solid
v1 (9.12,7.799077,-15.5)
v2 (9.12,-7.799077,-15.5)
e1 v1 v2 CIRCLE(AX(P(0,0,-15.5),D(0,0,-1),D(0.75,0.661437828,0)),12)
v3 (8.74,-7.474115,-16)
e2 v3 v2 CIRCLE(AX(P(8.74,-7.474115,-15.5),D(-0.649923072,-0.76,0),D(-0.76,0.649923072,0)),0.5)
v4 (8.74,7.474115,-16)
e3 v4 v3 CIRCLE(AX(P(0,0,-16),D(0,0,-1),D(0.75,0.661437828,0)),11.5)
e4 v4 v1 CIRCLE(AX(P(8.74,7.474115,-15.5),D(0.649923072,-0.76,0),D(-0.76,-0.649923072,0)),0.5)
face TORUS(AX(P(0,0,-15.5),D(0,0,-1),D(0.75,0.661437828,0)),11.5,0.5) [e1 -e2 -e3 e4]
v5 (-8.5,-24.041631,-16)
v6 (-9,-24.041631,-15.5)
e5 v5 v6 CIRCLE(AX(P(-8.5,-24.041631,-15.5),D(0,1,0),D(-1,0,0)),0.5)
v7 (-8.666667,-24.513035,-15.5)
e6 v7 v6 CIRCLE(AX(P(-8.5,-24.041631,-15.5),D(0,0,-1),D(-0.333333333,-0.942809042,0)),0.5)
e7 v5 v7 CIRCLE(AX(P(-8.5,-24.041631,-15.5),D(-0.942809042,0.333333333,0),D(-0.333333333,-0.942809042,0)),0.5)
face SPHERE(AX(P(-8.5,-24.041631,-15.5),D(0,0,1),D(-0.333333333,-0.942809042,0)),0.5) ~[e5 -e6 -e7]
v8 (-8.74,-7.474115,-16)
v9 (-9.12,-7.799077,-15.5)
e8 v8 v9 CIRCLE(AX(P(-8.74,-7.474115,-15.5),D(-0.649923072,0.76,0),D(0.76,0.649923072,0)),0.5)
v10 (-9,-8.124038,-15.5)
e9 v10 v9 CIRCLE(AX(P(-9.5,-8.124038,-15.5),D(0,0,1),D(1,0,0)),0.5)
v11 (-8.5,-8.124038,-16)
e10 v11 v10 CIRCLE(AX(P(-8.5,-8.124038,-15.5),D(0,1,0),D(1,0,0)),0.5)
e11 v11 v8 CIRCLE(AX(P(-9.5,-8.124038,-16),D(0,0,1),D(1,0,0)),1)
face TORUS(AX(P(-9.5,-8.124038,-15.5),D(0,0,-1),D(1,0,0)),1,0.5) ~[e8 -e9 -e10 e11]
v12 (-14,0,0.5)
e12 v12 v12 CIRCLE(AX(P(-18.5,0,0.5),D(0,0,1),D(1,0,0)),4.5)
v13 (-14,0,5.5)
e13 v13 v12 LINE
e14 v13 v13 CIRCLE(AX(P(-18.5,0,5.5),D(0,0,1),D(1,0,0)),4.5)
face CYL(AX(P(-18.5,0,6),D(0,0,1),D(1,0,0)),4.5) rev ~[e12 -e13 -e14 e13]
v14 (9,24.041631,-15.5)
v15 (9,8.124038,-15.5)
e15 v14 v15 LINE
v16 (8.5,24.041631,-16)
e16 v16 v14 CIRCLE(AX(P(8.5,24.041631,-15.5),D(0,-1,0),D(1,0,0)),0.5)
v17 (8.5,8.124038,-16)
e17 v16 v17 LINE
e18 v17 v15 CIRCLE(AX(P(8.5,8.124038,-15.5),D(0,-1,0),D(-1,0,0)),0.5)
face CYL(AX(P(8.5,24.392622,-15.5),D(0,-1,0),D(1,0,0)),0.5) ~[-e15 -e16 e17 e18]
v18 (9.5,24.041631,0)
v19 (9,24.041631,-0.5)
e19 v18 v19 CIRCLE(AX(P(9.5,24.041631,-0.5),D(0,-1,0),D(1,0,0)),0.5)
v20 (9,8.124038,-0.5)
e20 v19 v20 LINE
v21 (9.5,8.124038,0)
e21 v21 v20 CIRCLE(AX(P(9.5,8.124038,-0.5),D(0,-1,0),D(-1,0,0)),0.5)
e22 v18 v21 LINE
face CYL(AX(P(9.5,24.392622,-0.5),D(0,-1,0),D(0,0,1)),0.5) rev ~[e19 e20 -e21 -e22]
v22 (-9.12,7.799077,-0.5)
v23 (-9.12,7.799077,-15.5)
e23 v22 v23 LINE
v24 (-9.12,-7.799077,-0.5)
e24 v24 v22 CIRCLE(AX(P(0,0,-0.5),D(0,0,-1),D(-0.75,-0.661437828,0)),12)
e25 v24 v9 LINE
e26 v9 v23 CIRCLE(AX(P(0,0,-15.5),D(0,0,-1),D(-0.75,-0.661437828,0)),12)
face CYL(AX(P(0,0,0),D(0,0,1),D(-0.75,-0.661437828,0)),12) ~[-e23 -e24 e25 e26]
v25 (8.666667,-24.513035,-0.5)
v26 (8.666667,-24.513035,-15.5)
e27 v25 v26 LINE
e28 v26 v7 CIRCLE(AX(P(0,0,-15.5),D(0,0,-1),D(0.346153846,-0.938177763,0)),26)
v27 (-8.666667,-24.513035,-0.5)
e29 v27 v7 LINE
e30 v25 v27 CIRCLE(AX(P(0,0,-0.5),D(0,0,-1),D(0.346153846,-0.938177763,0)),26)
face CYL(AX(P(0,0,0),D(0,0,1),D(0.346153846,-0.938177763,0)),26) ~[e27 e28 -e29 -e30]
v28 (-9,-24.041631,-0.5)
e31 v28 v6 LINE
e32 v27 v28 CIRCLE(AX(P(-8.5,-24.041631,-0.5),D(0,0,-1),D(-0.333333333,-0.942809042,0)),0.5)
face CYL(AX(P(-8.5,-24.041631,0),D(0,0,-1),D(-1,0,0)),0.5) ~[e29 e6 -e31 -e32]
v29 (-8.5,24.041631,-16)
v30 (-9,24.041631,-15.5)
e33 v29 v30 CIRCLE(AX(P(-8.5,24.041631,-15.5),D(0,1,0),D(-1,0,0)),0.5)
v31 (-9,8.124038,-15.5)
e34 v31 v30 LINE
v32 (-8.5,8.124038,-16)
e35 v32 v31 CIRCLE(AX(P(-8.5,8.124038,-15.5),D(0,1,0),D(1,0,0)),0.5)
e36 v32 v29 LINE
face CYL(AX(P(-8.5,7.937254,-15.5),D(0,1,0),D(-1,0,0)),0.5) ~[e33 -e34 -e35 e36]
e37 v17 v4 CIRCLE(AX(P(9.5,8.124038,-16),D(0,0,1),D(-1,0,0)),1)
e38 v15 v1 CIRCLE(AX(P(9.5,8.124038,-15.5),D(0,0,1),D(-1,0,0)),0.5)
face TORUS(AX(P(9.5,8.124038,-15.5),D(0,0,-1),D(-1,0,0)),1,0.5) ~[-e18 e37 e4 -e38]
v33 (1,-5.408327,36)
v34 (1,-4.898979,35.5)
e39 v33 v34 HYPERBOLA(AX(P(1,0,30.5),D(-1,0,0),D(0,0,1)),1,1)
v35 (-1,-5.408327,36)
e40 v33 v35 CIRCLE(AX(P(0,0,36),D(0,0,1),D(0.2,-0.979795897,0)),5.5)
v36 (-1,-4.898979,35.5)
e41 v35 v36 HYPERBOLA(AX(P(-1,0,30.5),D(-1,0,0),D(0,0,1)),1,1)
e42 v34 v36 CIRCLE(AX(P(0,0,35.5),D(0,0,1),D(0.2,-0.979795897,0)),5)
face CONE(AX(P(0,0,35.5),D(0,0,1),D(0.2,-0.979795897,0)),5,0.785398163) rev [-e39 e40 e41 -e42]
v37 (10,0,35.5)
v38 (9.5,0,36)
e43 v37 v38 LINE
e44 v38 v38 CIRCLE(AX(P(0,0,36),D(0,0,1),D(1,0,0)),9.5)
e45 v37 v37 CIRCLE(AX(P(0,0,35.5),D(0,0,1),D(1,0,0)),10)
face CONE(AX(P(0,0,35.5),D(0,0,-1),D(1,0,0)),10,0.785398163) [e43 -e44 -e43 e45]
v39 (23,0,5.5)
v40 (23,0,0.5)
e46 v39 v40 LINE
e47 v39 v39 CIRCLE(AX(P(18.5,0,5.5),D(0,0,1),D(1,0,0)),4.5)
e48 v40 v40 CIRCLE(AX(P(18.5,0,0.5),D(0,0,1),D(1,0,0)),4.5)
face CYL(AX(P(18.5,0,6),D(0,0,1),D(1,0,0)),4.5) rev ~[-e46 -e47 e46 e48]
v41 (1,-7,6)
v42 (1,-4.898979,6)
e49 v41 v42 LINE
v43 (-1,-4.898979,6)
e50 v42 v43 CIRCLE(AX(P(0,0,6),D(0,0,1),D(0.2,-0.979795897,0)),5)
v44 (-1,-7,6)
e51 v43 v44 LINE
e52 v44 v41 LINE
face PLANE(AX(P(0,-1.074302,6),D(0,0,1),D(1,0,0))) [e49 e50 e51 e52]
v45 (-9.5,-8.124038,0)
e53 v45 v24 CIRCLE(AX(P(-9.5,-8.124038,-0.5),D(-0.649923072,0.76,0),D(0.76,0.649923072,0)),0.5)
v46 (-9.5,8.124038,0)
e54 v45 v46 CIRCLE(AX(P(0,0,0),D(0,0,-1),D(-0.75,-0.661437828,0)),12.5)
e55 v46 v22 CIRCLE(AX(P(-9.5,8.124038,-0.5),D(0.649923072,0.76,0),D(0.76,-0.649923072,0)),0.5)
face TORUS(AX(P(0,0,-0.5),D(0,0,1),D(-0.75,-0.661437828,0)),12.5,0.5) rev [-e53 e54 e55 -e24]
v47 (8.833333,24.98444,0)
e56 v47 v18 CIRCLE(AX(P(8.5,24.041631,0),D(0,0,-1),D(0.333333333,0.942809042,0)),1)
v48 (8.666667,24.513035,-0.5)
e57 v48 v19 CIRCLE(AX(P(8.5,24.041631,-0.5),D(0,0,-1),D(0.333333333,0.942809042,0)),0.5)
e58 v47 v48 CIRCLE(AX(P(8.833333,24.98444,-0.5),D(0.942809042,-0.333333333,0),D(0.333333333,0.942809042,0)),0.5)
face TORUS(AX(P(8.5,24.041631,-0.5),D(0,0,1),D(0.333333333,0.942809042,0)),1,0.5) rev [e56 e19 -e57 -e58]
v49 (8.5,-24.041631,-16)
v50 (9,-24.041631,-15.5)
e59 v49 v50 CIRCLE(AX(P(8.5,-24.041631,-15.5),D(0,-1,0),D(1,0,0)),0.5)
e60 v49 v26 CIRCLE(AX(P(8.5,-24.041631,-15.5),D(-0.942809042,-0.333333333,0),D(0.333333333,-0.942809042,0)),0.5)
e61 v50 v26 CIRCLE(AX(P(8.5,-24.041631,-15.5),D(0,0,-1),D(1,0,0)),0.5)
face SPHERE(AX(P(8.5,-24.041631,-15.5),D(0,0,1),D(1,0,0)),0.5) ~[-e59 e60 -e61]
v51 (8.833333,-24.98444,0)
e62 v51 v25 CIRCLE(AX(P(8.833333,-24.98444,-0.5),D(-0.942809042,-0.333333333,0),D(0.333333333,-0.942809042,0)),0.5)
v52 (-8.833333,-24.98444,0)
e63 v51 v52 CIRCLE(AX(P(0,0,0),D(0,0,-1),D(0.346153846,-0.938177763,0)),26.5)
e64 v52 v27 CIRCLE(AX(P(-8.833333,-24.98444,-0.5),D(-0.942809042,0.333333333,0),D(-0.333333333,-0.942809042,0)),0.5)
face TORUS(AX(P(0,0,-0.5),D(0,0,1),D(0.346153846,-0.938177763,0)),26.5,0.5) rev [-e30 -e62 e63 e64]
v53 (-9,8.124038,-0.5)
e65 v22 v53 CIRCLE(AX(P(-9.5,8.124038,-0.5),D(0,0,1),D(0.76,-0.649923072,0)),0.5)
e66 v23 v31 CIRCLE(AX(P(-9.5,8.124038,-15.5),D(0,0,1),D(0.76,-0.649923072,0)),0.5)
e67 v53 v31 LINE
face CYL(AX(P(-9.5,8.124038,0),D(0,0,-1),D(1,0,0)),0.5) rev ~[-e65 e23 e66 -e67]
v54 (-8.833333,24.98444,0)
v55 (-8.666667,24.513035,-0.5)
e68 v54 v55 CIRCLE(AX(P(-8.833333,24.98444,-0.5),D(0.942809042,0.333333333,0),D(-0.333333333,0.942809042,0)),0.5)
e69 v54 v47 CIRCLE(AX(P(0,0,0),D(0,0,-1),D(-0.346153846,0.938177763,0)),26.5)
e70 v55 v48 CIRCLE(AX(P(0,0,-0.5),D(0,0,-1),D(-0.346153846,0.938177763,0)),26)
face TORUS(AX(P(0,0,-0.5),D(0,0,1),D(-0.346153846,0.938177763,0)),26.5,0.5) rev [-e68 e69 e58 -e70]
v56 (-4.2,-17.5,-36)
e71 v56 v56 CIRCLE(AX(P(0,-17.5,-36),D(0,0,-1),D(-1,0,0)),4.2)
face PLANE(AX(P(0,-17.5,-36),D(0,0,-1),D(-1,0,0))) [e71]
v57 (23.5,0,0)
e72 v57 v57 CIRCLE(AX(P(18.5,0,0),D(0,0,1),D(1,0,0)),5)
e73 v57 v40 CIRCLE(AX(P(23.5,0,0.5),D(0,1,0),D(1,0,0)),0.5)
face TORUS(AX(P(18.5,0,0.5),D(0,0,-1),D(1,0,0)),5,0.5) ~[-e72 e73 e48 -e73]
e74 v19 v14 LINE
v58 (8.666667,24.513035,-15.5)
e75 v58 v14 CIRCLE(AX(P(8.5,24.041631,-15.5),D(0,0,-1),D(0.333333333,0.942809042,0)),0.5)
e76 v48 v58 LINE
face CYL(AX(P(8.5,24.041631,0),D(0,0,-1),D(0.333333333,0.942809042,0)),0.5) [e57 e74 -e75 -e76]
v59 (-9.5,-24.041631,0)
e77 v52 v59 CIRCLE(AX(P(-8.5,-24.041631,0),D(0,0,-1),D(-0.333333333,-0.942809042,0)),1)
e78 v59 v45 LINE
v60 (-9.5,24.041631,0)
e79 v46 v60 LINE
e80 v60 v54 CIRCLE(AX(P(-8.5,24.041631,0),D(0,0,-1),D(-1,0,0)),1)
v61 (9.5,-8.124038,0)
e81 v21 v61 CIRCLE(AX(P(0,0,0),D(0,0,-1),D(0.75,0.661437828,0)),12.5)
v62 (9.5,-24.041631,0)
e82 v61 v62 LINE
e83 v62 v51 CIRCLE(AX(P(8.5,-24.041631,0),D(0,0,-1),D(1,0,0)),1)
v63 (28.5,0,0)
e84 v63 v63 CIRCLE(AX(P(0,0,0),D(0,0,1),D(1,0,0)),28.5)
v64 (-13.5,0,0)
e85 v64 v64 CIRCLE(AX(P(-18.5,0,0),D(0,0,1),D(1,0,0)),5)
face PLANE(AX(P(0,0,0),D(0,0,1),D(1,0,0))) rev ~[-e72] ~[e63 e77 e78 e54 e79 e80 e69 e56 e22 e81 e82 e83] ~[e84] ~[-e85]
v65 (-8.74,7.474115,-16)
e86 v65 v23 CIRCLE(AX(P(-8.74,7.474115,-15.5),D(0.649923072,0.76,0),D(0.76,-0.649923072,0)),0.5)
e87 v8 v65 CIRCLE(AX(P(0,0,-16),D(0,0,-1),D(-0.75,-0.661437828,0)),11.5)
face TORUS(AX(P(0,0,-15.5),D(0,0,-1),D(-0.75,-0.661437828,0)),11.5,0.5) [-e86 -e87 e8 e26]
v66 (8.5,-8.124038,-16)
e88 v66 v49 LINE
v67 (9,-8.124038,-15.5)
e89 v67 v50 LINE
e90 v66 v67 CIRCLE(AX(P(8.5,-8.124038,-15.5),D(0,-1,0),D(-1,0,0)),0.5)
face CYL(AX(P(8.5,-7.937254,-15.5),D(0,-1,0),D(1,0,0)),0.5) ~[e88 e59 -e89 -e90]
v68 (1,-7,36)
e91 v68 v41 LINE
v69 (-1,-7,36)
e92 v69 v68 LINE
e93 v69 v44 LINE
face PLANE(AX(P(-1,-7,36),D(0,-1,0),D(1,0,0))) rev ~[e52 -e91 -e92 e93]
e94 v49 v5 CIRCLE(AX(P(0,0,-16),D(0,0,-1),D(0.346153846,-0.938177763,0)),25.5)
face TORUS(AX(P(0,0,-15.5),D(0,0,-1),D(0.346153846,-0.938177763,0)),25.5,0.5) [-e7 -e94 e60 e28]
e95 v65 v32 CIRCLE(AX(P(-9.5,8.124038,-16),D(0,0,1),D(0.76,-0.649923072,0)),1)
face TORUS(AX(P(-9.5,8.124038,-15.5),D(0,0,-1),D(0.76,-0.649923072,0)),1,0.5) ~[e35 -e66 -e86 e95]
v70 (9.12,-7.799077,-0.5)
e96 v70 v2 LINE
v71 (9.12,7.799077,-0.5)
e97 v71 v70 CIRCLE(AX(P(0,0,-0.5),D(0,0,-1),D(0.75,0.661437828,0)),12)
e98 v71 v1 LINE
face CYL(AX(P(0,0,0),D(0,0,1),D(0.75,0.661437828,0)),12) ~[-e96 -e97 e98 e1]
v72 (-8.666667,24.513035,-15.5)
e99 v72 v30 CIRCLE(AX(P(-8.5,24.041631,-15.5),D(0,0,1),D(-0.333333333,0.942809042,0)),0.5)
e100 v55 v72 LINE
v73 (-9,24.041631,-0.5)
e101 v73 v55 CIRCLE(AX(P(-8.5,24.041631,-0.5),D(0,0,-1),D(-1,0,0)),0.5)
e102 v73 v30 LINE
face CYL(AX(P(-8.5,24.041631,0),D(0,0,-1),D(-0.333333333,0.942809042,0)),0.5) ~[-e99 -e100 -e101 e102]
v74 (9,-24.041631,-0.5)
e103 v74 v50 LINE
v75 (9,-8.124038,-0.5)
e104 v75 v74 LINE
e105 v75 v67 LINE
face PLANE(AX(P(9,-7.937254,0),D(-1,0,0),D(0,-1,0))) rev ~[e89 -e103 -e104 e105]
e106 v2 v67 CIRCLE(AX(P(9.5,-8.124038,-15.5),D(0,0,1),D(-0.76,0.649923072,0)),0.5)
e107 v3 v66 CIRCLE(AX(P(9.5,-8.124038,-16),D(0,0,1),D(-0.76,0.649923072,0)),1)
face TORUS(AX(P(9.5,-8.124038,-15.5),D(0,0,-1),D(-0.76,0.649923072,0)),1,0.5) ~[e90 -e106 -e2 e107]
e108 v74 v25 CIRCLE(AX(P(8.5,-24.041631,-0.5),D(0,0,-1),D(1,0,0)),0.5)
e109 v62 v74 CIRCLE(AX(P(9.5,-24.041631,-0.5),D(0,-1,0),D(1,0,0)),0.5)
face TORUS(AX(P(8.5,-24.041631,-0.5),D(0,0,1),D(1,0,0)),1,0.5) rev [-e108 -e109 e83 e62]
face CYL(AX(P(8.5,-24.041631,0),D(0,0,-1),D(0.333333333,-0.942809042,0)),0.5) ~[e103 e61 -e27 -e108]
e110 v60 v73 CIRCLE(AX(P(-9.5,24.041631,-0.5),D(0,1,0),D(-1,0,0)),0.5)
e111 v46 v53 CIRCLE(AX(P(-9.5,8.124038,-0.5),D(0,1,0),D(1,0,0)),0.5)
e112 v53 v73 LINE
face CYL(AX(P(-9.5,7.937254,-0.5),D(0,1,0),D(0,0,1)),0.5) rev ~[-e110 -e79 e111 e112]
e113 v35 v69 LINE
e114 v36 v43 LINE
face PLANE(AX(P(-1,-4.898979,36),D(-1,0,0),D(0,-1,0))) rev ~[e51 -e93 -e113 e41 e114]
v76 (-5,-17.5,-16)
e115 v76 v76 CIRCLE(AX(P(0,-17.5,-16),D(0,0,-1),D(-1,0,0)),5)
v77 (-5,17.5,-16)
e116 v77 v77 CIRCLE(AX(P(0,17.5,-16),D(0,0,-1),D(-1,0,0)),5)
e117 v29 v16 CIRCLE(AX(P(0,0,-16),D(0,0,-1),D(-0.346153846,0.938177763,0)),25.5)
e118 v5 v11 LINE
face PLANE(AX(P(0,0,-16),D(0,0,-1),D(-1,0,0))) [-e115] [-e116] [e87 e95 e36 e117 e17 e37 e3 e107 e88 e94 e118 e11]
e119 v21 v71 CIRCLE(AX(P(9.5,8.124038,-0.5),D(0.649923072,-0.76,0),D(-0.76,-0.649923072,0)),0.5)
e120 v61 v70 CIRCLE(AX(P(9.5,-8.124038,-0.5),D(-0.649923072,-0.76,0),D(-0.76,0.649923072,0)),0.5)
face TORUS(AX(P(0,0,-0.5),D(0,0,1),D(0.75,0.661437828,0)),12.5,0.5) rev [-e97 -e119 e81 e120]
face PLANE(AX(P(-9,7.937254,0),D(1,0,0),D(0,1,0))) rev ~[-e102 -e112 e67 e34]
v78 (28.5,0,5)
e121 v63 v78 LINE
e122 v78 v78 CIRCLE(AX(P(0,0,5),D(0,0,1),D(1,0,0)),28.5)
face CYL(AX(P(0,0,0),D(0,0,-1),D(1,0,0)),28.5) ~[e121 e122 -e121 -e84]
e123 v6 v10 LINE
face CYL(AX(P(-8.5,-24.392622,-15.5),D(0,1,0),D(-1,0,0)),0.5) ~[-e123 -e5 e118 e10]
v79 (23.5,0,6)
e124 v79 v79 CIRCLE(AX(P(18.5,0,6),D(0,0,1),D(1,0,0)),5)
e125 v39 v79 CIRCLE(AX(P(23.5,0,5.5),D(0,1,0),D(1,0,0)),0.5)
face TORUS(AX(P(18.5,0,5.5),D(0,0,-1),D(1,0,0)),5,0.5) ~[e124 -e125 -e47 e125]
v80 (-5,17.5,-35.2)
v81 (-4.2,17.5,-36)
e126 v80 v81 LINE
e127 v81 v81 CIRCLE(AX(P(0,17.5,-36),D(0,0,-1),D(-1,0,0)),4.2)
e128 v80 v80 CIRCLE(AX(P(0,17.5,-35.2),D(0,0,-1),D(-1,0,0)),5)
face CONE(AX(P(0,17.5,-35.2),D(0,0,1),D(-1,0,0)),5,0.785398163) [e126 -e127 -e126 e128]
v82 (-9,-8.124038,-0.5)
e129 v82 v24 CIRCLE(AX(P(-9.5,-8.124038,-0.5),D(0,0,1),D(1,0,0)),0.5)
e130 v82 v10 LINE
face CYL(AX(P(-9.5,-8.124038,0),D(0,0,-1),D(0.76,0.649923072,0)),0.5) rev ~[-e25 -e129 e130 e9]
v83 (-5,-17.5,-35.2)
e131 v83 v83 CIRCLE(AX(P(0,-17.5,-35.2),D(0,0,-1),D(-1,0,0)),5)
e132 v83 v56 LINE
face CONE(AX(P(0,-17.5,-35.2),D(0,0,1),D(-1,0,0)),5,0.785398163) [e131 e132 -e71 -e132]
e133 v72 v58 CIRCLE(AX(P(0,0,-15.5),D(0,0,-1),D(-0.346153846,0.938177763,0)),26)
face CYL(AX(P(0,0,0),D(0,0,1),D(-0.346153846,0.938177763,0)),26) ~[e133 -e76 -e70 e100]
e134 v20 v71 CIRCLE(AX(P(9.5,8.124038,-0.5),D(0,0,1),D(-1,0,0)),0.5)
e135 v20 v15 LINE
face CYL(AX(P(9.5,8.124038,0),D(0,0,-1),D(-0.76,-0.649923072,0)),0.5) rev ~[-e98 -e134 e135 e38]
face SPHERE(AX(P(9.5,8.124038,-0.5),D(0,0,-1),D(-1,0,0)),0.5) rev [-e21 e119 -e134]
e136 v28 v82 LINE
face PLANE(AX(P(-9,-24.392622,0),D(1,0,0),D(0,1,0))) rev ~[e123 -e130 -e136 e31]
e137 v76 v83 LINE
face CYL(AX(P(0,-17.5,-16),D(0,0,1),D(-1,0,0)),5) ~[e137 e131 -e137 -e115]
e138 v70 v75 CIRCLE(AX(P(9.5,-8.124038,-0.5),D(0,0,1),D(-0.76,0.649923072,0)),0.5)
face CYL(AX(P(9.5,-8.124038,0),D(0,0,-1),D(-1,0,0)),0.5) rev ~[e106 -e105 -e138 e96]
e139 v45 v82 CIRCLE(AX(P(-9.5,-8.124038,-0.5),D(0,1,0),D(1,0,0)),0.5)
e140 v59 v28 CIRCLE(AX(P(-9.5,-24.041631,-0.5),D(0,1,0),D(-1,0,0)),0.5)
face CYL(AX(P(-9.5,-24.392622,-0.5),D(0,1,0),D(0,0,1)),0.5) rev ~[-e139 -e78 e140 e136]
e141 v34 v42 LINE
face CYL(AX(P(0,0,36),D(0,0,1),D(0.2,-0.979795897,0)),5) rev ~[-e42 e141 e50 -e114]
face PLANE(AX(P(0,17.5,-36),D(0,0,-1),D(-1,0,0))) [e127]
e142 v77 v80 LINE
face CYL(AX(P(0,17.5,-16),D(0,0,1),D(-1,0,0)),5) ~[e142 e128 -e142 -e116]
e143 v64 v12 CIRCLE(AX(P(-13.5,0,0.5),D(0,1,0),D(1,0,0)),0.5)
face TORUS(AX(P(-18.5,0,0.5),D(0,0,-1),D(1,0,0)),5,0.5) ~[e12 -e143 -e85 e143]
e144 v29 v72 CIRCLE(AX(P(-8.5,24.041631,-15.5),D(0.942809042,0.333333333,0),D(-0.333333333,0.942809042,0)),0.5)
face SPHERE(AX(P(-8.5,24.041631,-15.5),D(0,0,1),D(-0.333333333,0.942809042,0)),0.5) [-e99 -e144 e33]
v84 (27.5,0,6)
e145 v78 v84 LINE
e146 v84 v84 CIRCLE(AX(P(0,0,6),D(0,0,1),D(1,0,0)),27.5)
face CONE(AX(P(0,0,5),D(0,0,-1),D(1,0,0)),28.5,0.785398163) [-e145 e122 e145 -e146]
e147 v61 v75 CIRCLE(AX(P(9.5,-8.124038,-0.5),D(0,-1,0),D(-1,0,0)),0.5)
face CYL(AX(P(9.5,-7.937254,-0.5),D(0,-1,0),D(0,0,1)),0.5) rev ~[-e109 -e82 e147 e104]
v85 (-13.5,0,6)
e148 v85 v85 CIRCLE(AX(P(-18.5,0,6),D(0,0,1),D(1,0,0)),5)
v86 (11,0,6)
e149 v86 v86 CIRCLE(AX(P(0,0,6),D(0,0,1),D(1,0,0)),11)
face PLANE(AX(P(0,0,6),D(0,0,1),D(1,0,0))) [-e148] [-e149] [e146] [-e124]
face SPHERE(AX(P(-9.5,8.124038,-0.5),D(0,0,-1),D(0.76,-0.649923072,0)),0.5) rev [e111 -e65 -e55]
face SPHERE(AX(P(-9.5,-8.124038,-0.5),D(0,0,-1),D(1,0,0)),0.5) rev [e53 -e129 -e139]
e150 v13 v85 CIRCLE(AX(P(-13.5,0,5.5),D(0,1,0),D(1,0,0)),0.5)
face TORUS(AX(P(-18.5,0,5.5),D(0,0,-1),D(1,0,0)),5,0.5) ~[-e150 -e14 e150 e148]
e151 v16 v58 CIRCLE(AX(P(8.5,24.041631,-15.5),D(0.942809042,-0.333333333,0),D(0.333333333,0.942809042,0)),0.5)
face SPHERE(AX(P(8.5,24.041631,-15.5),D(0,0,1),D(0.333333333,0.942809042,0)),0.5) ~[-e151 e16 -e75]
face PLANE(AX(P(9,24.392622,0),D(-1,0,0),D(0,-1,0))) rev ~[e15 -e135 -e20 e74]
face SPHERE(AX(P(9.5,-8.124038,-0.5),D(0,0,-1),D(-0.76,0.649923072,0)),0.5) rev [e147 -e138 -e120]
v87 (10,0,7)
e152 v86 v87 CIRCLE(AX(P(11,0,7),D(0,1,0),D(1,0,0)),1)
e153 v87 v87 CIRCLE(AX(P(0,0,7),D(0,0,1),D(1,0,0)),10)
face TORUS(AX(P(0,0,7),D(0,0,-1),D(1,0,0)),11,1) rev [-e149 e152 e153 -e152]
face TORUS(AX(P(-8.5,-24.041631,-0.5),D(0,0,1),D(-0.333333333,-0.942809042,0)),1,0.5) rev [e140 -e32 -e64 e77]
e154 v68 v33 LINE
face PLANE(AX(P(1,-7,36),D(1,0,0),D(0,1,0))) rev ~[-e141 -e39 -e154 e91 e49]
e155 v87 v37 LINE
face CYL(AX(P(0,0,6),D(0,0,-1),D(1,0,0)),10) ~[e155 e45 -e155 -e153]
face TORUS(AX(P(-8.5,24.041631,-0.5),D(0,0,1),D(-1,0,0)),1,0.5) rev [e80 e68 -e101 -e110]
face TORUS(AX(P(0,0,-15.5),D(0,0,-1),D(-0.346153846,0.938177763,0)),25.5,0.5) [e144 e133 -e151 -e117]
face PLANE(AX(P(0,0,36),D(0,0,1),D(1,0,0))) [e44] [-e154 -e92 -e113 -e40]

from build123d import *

# Parameters (mm, degrees)
SKETCH1_R           = 28.5
BOSS_EXTRUDE1_DEPTH = 6
BOSS_EXTRUDE2_DEPTH = 16
CHAMFER1_SIZE       = 1
FILLET1_R           = 0.5
SKETCH4_R           = 4.5
CUT_EXTRUDE1_DEPTH  = 23.0000001
FILLET2_R           = 0.5
SKETCH5_R           = 10
BOSS_EXTRUDE3_DEPTH = 30
FILLET3_R           = 1
CHAMFER2_SIZE       = 0.5
SKETCH6_R           = 5
BOSS_EXTRUDE4_DEPTH = 20
CHAMFER3_SIZE       = 0.8
CUT_EXTRUDE2_DEPTH  = 30
CHAMFER4_SIZE       = 0.5


with BuildPart() as part:
    # Sketch1 → Boss-Extrude1 (new body)
    with BuildSketch(Plane.XY):
        Circle(SKETCH1_R)
    extrude(amount=BOSS_EXTRUDE1_DEPTH)

    # Sketch3 → Boss-Extrude2 (add)
    with BuildSketch(Plane(origin=(0, 0, 0), x_dir=(-1, 0, 0), z_dir=(0, 0, -1))):
        with BuildLine():
            Line((-9, 24.392621835), (-9, 7.937253933))
            ThreePointArc((-9, 7.937253933), (-12, 0), (-9, -7.937253933))
            Line((-9, -7.937253933), (-9, -24.392621835))
            ThreePointArc((-9, -24.392621835), (0, -26), (9, -24.392621835))
            Line((9, -24.392621835), (9, -7.937253933))
            ThreePointArc((9, -7.937253933), (12, 0), (9, 7.937253933))
            Line((9, 7.937253933), (9, 24.392621835))
            ThreePointArc((9, 24.392621835), (0, 26), (-9, 24.392621835))
        make_face()
    extrude(amount=BOSS_EXTRUDE2_DEPTH)

    # Chamfer1
    chamfer1_edges = [part.edges().sort_by_distance(p)[0] for p in [
        (-28.5, 0, 6),
    ]]
    chamfer(chamfer1_edges, length=CHAMFER1_SIZE)

    # Fillet1
    fillet1_edges = [part.edges().sort_by_distance(p)[0] for p in [
        (9, 7.937253933, -8),
        (9, -16.164937884, 0),
        (9, -7.937253933, -8),
        (0, -26, 0),
        (9, -24.392621835, -8),
        (-9, -16.164937884, 0),
        (-9, -24.392621835, -8),
        (-12, 0, 0),
        (-9, -7.937253933, -8),
        (-9, 16.164937884, 0),
        (-9, 7.937253933, -8),
        (0, 26, -16),
        (9, 16.164937884, -16),
        (12, 0, -16),
        (9, -16.164937884, -16),
        (0, -26, -16),
        (-9, -16.164937884, -16),
        (-12, 0, -16),
        (-9, 16.164937884, -16),
        (0, 26, 0),
        (-9, 24.392621835, -8),
        (9, 16.164937884, 0),
        (9, 24.392621835, -8),
        (12, 0, 0),
    ]]
    fillet(fillet1_edges, radius=FILLET1_R)

    # Sketch4 → Cut-Extrude1 (cut, through all)
    with BuildSketch(Plane.XY.offset(6)):
        with Locations((18.5, 0)):
            Circle(SKETCH4_R)
        with Locations((-18.5, 0)):
            Circle(SKETCH4_R)
    extrude(amount=-CUT_EXTRUDE1_DEPTH, mode=Mode.SUBTRACT)

    # Fillet2
    fillet2_edges = [part.edges().sort_by_distance(p)[0] for p in [
        (14, 0, 0),
        (14, 0, 6),
        (-23, 0, 0),
        (-23, 0, 6),
    ]]
    fillet(fillet2_edges, radius=FILLET2_R)

    # Sketch5 → Boss-Extrude3 (add)
    with BuildSketch(Plane.XY.offset(6)):
        Circle(SKETCH5_R)
    extrude(amount=BOSS_EXTRUDE3_DEPTH)

    # Fillet3
    fillet3_edges = [part.edges().sort_by_distance(p)[0] for p in [
        (-10, 0, 6),
    ]]
    fillet(fillet3_edges, radius=FILLET3_R)

    # Chamfer2
    chamfer2_edges = [part.edges().sort_by_distance(p)[0] for p in [
        (-10, 0, 36),
    ]]
    chamfer(chamfer2_edges, length=CHAMFER2_SIZE)

    # Sketch6 → Boss-Extrude4 (add)
    with BuildSketch(Plane(origin=(0, 0, -16), x_dir=(-1, 0, 0), z_dir=(0, 0, -1))):
        with Locations((0, 17.5)):
            Circle(SKETCH6_R)
        with Locations((0, -17.5)):
            Circle(SKETCH6_R)
    extrude(amount=BOSS_EXTRUDE4_DEPTH)

    # Chamfer3
    chamfer3_edges = [part.edges().sort_by_distance(p)[0] for p in [
        (5, 17.5, -36),
        (5, -17.5, -36),
    ]]
    chamfer(chamfer3_edges, length=CHAMFER3_SIZE)

    # Sketch7 → Cut-Extrude2 (cut)
    with BuildSketch(Plane.XY.offset(36)):
        with BuildLine():
            Line((-1, -4.898979486), (-1, -7))
            Line((-1, -7), (1, -7))
            Line((1, -7), (1, -4.898979486))
            ThreePointArc((1, -4.898979486), (0, 5), (-1, -4.898979486))
        make_face()
    extrude(amount=-CUT_EXTRUDE2_DEPTH, mode=Mode.SUBTRACT)

    # Chamfer4
    chamfer4_edges = [part.edges().sort_by_distance(p)[0] for p in [
        (0, 5, 36),
    ]]
    chamfer(chamfer4_edges, length=CHAMFER4_SIZE)


solid = part.part
